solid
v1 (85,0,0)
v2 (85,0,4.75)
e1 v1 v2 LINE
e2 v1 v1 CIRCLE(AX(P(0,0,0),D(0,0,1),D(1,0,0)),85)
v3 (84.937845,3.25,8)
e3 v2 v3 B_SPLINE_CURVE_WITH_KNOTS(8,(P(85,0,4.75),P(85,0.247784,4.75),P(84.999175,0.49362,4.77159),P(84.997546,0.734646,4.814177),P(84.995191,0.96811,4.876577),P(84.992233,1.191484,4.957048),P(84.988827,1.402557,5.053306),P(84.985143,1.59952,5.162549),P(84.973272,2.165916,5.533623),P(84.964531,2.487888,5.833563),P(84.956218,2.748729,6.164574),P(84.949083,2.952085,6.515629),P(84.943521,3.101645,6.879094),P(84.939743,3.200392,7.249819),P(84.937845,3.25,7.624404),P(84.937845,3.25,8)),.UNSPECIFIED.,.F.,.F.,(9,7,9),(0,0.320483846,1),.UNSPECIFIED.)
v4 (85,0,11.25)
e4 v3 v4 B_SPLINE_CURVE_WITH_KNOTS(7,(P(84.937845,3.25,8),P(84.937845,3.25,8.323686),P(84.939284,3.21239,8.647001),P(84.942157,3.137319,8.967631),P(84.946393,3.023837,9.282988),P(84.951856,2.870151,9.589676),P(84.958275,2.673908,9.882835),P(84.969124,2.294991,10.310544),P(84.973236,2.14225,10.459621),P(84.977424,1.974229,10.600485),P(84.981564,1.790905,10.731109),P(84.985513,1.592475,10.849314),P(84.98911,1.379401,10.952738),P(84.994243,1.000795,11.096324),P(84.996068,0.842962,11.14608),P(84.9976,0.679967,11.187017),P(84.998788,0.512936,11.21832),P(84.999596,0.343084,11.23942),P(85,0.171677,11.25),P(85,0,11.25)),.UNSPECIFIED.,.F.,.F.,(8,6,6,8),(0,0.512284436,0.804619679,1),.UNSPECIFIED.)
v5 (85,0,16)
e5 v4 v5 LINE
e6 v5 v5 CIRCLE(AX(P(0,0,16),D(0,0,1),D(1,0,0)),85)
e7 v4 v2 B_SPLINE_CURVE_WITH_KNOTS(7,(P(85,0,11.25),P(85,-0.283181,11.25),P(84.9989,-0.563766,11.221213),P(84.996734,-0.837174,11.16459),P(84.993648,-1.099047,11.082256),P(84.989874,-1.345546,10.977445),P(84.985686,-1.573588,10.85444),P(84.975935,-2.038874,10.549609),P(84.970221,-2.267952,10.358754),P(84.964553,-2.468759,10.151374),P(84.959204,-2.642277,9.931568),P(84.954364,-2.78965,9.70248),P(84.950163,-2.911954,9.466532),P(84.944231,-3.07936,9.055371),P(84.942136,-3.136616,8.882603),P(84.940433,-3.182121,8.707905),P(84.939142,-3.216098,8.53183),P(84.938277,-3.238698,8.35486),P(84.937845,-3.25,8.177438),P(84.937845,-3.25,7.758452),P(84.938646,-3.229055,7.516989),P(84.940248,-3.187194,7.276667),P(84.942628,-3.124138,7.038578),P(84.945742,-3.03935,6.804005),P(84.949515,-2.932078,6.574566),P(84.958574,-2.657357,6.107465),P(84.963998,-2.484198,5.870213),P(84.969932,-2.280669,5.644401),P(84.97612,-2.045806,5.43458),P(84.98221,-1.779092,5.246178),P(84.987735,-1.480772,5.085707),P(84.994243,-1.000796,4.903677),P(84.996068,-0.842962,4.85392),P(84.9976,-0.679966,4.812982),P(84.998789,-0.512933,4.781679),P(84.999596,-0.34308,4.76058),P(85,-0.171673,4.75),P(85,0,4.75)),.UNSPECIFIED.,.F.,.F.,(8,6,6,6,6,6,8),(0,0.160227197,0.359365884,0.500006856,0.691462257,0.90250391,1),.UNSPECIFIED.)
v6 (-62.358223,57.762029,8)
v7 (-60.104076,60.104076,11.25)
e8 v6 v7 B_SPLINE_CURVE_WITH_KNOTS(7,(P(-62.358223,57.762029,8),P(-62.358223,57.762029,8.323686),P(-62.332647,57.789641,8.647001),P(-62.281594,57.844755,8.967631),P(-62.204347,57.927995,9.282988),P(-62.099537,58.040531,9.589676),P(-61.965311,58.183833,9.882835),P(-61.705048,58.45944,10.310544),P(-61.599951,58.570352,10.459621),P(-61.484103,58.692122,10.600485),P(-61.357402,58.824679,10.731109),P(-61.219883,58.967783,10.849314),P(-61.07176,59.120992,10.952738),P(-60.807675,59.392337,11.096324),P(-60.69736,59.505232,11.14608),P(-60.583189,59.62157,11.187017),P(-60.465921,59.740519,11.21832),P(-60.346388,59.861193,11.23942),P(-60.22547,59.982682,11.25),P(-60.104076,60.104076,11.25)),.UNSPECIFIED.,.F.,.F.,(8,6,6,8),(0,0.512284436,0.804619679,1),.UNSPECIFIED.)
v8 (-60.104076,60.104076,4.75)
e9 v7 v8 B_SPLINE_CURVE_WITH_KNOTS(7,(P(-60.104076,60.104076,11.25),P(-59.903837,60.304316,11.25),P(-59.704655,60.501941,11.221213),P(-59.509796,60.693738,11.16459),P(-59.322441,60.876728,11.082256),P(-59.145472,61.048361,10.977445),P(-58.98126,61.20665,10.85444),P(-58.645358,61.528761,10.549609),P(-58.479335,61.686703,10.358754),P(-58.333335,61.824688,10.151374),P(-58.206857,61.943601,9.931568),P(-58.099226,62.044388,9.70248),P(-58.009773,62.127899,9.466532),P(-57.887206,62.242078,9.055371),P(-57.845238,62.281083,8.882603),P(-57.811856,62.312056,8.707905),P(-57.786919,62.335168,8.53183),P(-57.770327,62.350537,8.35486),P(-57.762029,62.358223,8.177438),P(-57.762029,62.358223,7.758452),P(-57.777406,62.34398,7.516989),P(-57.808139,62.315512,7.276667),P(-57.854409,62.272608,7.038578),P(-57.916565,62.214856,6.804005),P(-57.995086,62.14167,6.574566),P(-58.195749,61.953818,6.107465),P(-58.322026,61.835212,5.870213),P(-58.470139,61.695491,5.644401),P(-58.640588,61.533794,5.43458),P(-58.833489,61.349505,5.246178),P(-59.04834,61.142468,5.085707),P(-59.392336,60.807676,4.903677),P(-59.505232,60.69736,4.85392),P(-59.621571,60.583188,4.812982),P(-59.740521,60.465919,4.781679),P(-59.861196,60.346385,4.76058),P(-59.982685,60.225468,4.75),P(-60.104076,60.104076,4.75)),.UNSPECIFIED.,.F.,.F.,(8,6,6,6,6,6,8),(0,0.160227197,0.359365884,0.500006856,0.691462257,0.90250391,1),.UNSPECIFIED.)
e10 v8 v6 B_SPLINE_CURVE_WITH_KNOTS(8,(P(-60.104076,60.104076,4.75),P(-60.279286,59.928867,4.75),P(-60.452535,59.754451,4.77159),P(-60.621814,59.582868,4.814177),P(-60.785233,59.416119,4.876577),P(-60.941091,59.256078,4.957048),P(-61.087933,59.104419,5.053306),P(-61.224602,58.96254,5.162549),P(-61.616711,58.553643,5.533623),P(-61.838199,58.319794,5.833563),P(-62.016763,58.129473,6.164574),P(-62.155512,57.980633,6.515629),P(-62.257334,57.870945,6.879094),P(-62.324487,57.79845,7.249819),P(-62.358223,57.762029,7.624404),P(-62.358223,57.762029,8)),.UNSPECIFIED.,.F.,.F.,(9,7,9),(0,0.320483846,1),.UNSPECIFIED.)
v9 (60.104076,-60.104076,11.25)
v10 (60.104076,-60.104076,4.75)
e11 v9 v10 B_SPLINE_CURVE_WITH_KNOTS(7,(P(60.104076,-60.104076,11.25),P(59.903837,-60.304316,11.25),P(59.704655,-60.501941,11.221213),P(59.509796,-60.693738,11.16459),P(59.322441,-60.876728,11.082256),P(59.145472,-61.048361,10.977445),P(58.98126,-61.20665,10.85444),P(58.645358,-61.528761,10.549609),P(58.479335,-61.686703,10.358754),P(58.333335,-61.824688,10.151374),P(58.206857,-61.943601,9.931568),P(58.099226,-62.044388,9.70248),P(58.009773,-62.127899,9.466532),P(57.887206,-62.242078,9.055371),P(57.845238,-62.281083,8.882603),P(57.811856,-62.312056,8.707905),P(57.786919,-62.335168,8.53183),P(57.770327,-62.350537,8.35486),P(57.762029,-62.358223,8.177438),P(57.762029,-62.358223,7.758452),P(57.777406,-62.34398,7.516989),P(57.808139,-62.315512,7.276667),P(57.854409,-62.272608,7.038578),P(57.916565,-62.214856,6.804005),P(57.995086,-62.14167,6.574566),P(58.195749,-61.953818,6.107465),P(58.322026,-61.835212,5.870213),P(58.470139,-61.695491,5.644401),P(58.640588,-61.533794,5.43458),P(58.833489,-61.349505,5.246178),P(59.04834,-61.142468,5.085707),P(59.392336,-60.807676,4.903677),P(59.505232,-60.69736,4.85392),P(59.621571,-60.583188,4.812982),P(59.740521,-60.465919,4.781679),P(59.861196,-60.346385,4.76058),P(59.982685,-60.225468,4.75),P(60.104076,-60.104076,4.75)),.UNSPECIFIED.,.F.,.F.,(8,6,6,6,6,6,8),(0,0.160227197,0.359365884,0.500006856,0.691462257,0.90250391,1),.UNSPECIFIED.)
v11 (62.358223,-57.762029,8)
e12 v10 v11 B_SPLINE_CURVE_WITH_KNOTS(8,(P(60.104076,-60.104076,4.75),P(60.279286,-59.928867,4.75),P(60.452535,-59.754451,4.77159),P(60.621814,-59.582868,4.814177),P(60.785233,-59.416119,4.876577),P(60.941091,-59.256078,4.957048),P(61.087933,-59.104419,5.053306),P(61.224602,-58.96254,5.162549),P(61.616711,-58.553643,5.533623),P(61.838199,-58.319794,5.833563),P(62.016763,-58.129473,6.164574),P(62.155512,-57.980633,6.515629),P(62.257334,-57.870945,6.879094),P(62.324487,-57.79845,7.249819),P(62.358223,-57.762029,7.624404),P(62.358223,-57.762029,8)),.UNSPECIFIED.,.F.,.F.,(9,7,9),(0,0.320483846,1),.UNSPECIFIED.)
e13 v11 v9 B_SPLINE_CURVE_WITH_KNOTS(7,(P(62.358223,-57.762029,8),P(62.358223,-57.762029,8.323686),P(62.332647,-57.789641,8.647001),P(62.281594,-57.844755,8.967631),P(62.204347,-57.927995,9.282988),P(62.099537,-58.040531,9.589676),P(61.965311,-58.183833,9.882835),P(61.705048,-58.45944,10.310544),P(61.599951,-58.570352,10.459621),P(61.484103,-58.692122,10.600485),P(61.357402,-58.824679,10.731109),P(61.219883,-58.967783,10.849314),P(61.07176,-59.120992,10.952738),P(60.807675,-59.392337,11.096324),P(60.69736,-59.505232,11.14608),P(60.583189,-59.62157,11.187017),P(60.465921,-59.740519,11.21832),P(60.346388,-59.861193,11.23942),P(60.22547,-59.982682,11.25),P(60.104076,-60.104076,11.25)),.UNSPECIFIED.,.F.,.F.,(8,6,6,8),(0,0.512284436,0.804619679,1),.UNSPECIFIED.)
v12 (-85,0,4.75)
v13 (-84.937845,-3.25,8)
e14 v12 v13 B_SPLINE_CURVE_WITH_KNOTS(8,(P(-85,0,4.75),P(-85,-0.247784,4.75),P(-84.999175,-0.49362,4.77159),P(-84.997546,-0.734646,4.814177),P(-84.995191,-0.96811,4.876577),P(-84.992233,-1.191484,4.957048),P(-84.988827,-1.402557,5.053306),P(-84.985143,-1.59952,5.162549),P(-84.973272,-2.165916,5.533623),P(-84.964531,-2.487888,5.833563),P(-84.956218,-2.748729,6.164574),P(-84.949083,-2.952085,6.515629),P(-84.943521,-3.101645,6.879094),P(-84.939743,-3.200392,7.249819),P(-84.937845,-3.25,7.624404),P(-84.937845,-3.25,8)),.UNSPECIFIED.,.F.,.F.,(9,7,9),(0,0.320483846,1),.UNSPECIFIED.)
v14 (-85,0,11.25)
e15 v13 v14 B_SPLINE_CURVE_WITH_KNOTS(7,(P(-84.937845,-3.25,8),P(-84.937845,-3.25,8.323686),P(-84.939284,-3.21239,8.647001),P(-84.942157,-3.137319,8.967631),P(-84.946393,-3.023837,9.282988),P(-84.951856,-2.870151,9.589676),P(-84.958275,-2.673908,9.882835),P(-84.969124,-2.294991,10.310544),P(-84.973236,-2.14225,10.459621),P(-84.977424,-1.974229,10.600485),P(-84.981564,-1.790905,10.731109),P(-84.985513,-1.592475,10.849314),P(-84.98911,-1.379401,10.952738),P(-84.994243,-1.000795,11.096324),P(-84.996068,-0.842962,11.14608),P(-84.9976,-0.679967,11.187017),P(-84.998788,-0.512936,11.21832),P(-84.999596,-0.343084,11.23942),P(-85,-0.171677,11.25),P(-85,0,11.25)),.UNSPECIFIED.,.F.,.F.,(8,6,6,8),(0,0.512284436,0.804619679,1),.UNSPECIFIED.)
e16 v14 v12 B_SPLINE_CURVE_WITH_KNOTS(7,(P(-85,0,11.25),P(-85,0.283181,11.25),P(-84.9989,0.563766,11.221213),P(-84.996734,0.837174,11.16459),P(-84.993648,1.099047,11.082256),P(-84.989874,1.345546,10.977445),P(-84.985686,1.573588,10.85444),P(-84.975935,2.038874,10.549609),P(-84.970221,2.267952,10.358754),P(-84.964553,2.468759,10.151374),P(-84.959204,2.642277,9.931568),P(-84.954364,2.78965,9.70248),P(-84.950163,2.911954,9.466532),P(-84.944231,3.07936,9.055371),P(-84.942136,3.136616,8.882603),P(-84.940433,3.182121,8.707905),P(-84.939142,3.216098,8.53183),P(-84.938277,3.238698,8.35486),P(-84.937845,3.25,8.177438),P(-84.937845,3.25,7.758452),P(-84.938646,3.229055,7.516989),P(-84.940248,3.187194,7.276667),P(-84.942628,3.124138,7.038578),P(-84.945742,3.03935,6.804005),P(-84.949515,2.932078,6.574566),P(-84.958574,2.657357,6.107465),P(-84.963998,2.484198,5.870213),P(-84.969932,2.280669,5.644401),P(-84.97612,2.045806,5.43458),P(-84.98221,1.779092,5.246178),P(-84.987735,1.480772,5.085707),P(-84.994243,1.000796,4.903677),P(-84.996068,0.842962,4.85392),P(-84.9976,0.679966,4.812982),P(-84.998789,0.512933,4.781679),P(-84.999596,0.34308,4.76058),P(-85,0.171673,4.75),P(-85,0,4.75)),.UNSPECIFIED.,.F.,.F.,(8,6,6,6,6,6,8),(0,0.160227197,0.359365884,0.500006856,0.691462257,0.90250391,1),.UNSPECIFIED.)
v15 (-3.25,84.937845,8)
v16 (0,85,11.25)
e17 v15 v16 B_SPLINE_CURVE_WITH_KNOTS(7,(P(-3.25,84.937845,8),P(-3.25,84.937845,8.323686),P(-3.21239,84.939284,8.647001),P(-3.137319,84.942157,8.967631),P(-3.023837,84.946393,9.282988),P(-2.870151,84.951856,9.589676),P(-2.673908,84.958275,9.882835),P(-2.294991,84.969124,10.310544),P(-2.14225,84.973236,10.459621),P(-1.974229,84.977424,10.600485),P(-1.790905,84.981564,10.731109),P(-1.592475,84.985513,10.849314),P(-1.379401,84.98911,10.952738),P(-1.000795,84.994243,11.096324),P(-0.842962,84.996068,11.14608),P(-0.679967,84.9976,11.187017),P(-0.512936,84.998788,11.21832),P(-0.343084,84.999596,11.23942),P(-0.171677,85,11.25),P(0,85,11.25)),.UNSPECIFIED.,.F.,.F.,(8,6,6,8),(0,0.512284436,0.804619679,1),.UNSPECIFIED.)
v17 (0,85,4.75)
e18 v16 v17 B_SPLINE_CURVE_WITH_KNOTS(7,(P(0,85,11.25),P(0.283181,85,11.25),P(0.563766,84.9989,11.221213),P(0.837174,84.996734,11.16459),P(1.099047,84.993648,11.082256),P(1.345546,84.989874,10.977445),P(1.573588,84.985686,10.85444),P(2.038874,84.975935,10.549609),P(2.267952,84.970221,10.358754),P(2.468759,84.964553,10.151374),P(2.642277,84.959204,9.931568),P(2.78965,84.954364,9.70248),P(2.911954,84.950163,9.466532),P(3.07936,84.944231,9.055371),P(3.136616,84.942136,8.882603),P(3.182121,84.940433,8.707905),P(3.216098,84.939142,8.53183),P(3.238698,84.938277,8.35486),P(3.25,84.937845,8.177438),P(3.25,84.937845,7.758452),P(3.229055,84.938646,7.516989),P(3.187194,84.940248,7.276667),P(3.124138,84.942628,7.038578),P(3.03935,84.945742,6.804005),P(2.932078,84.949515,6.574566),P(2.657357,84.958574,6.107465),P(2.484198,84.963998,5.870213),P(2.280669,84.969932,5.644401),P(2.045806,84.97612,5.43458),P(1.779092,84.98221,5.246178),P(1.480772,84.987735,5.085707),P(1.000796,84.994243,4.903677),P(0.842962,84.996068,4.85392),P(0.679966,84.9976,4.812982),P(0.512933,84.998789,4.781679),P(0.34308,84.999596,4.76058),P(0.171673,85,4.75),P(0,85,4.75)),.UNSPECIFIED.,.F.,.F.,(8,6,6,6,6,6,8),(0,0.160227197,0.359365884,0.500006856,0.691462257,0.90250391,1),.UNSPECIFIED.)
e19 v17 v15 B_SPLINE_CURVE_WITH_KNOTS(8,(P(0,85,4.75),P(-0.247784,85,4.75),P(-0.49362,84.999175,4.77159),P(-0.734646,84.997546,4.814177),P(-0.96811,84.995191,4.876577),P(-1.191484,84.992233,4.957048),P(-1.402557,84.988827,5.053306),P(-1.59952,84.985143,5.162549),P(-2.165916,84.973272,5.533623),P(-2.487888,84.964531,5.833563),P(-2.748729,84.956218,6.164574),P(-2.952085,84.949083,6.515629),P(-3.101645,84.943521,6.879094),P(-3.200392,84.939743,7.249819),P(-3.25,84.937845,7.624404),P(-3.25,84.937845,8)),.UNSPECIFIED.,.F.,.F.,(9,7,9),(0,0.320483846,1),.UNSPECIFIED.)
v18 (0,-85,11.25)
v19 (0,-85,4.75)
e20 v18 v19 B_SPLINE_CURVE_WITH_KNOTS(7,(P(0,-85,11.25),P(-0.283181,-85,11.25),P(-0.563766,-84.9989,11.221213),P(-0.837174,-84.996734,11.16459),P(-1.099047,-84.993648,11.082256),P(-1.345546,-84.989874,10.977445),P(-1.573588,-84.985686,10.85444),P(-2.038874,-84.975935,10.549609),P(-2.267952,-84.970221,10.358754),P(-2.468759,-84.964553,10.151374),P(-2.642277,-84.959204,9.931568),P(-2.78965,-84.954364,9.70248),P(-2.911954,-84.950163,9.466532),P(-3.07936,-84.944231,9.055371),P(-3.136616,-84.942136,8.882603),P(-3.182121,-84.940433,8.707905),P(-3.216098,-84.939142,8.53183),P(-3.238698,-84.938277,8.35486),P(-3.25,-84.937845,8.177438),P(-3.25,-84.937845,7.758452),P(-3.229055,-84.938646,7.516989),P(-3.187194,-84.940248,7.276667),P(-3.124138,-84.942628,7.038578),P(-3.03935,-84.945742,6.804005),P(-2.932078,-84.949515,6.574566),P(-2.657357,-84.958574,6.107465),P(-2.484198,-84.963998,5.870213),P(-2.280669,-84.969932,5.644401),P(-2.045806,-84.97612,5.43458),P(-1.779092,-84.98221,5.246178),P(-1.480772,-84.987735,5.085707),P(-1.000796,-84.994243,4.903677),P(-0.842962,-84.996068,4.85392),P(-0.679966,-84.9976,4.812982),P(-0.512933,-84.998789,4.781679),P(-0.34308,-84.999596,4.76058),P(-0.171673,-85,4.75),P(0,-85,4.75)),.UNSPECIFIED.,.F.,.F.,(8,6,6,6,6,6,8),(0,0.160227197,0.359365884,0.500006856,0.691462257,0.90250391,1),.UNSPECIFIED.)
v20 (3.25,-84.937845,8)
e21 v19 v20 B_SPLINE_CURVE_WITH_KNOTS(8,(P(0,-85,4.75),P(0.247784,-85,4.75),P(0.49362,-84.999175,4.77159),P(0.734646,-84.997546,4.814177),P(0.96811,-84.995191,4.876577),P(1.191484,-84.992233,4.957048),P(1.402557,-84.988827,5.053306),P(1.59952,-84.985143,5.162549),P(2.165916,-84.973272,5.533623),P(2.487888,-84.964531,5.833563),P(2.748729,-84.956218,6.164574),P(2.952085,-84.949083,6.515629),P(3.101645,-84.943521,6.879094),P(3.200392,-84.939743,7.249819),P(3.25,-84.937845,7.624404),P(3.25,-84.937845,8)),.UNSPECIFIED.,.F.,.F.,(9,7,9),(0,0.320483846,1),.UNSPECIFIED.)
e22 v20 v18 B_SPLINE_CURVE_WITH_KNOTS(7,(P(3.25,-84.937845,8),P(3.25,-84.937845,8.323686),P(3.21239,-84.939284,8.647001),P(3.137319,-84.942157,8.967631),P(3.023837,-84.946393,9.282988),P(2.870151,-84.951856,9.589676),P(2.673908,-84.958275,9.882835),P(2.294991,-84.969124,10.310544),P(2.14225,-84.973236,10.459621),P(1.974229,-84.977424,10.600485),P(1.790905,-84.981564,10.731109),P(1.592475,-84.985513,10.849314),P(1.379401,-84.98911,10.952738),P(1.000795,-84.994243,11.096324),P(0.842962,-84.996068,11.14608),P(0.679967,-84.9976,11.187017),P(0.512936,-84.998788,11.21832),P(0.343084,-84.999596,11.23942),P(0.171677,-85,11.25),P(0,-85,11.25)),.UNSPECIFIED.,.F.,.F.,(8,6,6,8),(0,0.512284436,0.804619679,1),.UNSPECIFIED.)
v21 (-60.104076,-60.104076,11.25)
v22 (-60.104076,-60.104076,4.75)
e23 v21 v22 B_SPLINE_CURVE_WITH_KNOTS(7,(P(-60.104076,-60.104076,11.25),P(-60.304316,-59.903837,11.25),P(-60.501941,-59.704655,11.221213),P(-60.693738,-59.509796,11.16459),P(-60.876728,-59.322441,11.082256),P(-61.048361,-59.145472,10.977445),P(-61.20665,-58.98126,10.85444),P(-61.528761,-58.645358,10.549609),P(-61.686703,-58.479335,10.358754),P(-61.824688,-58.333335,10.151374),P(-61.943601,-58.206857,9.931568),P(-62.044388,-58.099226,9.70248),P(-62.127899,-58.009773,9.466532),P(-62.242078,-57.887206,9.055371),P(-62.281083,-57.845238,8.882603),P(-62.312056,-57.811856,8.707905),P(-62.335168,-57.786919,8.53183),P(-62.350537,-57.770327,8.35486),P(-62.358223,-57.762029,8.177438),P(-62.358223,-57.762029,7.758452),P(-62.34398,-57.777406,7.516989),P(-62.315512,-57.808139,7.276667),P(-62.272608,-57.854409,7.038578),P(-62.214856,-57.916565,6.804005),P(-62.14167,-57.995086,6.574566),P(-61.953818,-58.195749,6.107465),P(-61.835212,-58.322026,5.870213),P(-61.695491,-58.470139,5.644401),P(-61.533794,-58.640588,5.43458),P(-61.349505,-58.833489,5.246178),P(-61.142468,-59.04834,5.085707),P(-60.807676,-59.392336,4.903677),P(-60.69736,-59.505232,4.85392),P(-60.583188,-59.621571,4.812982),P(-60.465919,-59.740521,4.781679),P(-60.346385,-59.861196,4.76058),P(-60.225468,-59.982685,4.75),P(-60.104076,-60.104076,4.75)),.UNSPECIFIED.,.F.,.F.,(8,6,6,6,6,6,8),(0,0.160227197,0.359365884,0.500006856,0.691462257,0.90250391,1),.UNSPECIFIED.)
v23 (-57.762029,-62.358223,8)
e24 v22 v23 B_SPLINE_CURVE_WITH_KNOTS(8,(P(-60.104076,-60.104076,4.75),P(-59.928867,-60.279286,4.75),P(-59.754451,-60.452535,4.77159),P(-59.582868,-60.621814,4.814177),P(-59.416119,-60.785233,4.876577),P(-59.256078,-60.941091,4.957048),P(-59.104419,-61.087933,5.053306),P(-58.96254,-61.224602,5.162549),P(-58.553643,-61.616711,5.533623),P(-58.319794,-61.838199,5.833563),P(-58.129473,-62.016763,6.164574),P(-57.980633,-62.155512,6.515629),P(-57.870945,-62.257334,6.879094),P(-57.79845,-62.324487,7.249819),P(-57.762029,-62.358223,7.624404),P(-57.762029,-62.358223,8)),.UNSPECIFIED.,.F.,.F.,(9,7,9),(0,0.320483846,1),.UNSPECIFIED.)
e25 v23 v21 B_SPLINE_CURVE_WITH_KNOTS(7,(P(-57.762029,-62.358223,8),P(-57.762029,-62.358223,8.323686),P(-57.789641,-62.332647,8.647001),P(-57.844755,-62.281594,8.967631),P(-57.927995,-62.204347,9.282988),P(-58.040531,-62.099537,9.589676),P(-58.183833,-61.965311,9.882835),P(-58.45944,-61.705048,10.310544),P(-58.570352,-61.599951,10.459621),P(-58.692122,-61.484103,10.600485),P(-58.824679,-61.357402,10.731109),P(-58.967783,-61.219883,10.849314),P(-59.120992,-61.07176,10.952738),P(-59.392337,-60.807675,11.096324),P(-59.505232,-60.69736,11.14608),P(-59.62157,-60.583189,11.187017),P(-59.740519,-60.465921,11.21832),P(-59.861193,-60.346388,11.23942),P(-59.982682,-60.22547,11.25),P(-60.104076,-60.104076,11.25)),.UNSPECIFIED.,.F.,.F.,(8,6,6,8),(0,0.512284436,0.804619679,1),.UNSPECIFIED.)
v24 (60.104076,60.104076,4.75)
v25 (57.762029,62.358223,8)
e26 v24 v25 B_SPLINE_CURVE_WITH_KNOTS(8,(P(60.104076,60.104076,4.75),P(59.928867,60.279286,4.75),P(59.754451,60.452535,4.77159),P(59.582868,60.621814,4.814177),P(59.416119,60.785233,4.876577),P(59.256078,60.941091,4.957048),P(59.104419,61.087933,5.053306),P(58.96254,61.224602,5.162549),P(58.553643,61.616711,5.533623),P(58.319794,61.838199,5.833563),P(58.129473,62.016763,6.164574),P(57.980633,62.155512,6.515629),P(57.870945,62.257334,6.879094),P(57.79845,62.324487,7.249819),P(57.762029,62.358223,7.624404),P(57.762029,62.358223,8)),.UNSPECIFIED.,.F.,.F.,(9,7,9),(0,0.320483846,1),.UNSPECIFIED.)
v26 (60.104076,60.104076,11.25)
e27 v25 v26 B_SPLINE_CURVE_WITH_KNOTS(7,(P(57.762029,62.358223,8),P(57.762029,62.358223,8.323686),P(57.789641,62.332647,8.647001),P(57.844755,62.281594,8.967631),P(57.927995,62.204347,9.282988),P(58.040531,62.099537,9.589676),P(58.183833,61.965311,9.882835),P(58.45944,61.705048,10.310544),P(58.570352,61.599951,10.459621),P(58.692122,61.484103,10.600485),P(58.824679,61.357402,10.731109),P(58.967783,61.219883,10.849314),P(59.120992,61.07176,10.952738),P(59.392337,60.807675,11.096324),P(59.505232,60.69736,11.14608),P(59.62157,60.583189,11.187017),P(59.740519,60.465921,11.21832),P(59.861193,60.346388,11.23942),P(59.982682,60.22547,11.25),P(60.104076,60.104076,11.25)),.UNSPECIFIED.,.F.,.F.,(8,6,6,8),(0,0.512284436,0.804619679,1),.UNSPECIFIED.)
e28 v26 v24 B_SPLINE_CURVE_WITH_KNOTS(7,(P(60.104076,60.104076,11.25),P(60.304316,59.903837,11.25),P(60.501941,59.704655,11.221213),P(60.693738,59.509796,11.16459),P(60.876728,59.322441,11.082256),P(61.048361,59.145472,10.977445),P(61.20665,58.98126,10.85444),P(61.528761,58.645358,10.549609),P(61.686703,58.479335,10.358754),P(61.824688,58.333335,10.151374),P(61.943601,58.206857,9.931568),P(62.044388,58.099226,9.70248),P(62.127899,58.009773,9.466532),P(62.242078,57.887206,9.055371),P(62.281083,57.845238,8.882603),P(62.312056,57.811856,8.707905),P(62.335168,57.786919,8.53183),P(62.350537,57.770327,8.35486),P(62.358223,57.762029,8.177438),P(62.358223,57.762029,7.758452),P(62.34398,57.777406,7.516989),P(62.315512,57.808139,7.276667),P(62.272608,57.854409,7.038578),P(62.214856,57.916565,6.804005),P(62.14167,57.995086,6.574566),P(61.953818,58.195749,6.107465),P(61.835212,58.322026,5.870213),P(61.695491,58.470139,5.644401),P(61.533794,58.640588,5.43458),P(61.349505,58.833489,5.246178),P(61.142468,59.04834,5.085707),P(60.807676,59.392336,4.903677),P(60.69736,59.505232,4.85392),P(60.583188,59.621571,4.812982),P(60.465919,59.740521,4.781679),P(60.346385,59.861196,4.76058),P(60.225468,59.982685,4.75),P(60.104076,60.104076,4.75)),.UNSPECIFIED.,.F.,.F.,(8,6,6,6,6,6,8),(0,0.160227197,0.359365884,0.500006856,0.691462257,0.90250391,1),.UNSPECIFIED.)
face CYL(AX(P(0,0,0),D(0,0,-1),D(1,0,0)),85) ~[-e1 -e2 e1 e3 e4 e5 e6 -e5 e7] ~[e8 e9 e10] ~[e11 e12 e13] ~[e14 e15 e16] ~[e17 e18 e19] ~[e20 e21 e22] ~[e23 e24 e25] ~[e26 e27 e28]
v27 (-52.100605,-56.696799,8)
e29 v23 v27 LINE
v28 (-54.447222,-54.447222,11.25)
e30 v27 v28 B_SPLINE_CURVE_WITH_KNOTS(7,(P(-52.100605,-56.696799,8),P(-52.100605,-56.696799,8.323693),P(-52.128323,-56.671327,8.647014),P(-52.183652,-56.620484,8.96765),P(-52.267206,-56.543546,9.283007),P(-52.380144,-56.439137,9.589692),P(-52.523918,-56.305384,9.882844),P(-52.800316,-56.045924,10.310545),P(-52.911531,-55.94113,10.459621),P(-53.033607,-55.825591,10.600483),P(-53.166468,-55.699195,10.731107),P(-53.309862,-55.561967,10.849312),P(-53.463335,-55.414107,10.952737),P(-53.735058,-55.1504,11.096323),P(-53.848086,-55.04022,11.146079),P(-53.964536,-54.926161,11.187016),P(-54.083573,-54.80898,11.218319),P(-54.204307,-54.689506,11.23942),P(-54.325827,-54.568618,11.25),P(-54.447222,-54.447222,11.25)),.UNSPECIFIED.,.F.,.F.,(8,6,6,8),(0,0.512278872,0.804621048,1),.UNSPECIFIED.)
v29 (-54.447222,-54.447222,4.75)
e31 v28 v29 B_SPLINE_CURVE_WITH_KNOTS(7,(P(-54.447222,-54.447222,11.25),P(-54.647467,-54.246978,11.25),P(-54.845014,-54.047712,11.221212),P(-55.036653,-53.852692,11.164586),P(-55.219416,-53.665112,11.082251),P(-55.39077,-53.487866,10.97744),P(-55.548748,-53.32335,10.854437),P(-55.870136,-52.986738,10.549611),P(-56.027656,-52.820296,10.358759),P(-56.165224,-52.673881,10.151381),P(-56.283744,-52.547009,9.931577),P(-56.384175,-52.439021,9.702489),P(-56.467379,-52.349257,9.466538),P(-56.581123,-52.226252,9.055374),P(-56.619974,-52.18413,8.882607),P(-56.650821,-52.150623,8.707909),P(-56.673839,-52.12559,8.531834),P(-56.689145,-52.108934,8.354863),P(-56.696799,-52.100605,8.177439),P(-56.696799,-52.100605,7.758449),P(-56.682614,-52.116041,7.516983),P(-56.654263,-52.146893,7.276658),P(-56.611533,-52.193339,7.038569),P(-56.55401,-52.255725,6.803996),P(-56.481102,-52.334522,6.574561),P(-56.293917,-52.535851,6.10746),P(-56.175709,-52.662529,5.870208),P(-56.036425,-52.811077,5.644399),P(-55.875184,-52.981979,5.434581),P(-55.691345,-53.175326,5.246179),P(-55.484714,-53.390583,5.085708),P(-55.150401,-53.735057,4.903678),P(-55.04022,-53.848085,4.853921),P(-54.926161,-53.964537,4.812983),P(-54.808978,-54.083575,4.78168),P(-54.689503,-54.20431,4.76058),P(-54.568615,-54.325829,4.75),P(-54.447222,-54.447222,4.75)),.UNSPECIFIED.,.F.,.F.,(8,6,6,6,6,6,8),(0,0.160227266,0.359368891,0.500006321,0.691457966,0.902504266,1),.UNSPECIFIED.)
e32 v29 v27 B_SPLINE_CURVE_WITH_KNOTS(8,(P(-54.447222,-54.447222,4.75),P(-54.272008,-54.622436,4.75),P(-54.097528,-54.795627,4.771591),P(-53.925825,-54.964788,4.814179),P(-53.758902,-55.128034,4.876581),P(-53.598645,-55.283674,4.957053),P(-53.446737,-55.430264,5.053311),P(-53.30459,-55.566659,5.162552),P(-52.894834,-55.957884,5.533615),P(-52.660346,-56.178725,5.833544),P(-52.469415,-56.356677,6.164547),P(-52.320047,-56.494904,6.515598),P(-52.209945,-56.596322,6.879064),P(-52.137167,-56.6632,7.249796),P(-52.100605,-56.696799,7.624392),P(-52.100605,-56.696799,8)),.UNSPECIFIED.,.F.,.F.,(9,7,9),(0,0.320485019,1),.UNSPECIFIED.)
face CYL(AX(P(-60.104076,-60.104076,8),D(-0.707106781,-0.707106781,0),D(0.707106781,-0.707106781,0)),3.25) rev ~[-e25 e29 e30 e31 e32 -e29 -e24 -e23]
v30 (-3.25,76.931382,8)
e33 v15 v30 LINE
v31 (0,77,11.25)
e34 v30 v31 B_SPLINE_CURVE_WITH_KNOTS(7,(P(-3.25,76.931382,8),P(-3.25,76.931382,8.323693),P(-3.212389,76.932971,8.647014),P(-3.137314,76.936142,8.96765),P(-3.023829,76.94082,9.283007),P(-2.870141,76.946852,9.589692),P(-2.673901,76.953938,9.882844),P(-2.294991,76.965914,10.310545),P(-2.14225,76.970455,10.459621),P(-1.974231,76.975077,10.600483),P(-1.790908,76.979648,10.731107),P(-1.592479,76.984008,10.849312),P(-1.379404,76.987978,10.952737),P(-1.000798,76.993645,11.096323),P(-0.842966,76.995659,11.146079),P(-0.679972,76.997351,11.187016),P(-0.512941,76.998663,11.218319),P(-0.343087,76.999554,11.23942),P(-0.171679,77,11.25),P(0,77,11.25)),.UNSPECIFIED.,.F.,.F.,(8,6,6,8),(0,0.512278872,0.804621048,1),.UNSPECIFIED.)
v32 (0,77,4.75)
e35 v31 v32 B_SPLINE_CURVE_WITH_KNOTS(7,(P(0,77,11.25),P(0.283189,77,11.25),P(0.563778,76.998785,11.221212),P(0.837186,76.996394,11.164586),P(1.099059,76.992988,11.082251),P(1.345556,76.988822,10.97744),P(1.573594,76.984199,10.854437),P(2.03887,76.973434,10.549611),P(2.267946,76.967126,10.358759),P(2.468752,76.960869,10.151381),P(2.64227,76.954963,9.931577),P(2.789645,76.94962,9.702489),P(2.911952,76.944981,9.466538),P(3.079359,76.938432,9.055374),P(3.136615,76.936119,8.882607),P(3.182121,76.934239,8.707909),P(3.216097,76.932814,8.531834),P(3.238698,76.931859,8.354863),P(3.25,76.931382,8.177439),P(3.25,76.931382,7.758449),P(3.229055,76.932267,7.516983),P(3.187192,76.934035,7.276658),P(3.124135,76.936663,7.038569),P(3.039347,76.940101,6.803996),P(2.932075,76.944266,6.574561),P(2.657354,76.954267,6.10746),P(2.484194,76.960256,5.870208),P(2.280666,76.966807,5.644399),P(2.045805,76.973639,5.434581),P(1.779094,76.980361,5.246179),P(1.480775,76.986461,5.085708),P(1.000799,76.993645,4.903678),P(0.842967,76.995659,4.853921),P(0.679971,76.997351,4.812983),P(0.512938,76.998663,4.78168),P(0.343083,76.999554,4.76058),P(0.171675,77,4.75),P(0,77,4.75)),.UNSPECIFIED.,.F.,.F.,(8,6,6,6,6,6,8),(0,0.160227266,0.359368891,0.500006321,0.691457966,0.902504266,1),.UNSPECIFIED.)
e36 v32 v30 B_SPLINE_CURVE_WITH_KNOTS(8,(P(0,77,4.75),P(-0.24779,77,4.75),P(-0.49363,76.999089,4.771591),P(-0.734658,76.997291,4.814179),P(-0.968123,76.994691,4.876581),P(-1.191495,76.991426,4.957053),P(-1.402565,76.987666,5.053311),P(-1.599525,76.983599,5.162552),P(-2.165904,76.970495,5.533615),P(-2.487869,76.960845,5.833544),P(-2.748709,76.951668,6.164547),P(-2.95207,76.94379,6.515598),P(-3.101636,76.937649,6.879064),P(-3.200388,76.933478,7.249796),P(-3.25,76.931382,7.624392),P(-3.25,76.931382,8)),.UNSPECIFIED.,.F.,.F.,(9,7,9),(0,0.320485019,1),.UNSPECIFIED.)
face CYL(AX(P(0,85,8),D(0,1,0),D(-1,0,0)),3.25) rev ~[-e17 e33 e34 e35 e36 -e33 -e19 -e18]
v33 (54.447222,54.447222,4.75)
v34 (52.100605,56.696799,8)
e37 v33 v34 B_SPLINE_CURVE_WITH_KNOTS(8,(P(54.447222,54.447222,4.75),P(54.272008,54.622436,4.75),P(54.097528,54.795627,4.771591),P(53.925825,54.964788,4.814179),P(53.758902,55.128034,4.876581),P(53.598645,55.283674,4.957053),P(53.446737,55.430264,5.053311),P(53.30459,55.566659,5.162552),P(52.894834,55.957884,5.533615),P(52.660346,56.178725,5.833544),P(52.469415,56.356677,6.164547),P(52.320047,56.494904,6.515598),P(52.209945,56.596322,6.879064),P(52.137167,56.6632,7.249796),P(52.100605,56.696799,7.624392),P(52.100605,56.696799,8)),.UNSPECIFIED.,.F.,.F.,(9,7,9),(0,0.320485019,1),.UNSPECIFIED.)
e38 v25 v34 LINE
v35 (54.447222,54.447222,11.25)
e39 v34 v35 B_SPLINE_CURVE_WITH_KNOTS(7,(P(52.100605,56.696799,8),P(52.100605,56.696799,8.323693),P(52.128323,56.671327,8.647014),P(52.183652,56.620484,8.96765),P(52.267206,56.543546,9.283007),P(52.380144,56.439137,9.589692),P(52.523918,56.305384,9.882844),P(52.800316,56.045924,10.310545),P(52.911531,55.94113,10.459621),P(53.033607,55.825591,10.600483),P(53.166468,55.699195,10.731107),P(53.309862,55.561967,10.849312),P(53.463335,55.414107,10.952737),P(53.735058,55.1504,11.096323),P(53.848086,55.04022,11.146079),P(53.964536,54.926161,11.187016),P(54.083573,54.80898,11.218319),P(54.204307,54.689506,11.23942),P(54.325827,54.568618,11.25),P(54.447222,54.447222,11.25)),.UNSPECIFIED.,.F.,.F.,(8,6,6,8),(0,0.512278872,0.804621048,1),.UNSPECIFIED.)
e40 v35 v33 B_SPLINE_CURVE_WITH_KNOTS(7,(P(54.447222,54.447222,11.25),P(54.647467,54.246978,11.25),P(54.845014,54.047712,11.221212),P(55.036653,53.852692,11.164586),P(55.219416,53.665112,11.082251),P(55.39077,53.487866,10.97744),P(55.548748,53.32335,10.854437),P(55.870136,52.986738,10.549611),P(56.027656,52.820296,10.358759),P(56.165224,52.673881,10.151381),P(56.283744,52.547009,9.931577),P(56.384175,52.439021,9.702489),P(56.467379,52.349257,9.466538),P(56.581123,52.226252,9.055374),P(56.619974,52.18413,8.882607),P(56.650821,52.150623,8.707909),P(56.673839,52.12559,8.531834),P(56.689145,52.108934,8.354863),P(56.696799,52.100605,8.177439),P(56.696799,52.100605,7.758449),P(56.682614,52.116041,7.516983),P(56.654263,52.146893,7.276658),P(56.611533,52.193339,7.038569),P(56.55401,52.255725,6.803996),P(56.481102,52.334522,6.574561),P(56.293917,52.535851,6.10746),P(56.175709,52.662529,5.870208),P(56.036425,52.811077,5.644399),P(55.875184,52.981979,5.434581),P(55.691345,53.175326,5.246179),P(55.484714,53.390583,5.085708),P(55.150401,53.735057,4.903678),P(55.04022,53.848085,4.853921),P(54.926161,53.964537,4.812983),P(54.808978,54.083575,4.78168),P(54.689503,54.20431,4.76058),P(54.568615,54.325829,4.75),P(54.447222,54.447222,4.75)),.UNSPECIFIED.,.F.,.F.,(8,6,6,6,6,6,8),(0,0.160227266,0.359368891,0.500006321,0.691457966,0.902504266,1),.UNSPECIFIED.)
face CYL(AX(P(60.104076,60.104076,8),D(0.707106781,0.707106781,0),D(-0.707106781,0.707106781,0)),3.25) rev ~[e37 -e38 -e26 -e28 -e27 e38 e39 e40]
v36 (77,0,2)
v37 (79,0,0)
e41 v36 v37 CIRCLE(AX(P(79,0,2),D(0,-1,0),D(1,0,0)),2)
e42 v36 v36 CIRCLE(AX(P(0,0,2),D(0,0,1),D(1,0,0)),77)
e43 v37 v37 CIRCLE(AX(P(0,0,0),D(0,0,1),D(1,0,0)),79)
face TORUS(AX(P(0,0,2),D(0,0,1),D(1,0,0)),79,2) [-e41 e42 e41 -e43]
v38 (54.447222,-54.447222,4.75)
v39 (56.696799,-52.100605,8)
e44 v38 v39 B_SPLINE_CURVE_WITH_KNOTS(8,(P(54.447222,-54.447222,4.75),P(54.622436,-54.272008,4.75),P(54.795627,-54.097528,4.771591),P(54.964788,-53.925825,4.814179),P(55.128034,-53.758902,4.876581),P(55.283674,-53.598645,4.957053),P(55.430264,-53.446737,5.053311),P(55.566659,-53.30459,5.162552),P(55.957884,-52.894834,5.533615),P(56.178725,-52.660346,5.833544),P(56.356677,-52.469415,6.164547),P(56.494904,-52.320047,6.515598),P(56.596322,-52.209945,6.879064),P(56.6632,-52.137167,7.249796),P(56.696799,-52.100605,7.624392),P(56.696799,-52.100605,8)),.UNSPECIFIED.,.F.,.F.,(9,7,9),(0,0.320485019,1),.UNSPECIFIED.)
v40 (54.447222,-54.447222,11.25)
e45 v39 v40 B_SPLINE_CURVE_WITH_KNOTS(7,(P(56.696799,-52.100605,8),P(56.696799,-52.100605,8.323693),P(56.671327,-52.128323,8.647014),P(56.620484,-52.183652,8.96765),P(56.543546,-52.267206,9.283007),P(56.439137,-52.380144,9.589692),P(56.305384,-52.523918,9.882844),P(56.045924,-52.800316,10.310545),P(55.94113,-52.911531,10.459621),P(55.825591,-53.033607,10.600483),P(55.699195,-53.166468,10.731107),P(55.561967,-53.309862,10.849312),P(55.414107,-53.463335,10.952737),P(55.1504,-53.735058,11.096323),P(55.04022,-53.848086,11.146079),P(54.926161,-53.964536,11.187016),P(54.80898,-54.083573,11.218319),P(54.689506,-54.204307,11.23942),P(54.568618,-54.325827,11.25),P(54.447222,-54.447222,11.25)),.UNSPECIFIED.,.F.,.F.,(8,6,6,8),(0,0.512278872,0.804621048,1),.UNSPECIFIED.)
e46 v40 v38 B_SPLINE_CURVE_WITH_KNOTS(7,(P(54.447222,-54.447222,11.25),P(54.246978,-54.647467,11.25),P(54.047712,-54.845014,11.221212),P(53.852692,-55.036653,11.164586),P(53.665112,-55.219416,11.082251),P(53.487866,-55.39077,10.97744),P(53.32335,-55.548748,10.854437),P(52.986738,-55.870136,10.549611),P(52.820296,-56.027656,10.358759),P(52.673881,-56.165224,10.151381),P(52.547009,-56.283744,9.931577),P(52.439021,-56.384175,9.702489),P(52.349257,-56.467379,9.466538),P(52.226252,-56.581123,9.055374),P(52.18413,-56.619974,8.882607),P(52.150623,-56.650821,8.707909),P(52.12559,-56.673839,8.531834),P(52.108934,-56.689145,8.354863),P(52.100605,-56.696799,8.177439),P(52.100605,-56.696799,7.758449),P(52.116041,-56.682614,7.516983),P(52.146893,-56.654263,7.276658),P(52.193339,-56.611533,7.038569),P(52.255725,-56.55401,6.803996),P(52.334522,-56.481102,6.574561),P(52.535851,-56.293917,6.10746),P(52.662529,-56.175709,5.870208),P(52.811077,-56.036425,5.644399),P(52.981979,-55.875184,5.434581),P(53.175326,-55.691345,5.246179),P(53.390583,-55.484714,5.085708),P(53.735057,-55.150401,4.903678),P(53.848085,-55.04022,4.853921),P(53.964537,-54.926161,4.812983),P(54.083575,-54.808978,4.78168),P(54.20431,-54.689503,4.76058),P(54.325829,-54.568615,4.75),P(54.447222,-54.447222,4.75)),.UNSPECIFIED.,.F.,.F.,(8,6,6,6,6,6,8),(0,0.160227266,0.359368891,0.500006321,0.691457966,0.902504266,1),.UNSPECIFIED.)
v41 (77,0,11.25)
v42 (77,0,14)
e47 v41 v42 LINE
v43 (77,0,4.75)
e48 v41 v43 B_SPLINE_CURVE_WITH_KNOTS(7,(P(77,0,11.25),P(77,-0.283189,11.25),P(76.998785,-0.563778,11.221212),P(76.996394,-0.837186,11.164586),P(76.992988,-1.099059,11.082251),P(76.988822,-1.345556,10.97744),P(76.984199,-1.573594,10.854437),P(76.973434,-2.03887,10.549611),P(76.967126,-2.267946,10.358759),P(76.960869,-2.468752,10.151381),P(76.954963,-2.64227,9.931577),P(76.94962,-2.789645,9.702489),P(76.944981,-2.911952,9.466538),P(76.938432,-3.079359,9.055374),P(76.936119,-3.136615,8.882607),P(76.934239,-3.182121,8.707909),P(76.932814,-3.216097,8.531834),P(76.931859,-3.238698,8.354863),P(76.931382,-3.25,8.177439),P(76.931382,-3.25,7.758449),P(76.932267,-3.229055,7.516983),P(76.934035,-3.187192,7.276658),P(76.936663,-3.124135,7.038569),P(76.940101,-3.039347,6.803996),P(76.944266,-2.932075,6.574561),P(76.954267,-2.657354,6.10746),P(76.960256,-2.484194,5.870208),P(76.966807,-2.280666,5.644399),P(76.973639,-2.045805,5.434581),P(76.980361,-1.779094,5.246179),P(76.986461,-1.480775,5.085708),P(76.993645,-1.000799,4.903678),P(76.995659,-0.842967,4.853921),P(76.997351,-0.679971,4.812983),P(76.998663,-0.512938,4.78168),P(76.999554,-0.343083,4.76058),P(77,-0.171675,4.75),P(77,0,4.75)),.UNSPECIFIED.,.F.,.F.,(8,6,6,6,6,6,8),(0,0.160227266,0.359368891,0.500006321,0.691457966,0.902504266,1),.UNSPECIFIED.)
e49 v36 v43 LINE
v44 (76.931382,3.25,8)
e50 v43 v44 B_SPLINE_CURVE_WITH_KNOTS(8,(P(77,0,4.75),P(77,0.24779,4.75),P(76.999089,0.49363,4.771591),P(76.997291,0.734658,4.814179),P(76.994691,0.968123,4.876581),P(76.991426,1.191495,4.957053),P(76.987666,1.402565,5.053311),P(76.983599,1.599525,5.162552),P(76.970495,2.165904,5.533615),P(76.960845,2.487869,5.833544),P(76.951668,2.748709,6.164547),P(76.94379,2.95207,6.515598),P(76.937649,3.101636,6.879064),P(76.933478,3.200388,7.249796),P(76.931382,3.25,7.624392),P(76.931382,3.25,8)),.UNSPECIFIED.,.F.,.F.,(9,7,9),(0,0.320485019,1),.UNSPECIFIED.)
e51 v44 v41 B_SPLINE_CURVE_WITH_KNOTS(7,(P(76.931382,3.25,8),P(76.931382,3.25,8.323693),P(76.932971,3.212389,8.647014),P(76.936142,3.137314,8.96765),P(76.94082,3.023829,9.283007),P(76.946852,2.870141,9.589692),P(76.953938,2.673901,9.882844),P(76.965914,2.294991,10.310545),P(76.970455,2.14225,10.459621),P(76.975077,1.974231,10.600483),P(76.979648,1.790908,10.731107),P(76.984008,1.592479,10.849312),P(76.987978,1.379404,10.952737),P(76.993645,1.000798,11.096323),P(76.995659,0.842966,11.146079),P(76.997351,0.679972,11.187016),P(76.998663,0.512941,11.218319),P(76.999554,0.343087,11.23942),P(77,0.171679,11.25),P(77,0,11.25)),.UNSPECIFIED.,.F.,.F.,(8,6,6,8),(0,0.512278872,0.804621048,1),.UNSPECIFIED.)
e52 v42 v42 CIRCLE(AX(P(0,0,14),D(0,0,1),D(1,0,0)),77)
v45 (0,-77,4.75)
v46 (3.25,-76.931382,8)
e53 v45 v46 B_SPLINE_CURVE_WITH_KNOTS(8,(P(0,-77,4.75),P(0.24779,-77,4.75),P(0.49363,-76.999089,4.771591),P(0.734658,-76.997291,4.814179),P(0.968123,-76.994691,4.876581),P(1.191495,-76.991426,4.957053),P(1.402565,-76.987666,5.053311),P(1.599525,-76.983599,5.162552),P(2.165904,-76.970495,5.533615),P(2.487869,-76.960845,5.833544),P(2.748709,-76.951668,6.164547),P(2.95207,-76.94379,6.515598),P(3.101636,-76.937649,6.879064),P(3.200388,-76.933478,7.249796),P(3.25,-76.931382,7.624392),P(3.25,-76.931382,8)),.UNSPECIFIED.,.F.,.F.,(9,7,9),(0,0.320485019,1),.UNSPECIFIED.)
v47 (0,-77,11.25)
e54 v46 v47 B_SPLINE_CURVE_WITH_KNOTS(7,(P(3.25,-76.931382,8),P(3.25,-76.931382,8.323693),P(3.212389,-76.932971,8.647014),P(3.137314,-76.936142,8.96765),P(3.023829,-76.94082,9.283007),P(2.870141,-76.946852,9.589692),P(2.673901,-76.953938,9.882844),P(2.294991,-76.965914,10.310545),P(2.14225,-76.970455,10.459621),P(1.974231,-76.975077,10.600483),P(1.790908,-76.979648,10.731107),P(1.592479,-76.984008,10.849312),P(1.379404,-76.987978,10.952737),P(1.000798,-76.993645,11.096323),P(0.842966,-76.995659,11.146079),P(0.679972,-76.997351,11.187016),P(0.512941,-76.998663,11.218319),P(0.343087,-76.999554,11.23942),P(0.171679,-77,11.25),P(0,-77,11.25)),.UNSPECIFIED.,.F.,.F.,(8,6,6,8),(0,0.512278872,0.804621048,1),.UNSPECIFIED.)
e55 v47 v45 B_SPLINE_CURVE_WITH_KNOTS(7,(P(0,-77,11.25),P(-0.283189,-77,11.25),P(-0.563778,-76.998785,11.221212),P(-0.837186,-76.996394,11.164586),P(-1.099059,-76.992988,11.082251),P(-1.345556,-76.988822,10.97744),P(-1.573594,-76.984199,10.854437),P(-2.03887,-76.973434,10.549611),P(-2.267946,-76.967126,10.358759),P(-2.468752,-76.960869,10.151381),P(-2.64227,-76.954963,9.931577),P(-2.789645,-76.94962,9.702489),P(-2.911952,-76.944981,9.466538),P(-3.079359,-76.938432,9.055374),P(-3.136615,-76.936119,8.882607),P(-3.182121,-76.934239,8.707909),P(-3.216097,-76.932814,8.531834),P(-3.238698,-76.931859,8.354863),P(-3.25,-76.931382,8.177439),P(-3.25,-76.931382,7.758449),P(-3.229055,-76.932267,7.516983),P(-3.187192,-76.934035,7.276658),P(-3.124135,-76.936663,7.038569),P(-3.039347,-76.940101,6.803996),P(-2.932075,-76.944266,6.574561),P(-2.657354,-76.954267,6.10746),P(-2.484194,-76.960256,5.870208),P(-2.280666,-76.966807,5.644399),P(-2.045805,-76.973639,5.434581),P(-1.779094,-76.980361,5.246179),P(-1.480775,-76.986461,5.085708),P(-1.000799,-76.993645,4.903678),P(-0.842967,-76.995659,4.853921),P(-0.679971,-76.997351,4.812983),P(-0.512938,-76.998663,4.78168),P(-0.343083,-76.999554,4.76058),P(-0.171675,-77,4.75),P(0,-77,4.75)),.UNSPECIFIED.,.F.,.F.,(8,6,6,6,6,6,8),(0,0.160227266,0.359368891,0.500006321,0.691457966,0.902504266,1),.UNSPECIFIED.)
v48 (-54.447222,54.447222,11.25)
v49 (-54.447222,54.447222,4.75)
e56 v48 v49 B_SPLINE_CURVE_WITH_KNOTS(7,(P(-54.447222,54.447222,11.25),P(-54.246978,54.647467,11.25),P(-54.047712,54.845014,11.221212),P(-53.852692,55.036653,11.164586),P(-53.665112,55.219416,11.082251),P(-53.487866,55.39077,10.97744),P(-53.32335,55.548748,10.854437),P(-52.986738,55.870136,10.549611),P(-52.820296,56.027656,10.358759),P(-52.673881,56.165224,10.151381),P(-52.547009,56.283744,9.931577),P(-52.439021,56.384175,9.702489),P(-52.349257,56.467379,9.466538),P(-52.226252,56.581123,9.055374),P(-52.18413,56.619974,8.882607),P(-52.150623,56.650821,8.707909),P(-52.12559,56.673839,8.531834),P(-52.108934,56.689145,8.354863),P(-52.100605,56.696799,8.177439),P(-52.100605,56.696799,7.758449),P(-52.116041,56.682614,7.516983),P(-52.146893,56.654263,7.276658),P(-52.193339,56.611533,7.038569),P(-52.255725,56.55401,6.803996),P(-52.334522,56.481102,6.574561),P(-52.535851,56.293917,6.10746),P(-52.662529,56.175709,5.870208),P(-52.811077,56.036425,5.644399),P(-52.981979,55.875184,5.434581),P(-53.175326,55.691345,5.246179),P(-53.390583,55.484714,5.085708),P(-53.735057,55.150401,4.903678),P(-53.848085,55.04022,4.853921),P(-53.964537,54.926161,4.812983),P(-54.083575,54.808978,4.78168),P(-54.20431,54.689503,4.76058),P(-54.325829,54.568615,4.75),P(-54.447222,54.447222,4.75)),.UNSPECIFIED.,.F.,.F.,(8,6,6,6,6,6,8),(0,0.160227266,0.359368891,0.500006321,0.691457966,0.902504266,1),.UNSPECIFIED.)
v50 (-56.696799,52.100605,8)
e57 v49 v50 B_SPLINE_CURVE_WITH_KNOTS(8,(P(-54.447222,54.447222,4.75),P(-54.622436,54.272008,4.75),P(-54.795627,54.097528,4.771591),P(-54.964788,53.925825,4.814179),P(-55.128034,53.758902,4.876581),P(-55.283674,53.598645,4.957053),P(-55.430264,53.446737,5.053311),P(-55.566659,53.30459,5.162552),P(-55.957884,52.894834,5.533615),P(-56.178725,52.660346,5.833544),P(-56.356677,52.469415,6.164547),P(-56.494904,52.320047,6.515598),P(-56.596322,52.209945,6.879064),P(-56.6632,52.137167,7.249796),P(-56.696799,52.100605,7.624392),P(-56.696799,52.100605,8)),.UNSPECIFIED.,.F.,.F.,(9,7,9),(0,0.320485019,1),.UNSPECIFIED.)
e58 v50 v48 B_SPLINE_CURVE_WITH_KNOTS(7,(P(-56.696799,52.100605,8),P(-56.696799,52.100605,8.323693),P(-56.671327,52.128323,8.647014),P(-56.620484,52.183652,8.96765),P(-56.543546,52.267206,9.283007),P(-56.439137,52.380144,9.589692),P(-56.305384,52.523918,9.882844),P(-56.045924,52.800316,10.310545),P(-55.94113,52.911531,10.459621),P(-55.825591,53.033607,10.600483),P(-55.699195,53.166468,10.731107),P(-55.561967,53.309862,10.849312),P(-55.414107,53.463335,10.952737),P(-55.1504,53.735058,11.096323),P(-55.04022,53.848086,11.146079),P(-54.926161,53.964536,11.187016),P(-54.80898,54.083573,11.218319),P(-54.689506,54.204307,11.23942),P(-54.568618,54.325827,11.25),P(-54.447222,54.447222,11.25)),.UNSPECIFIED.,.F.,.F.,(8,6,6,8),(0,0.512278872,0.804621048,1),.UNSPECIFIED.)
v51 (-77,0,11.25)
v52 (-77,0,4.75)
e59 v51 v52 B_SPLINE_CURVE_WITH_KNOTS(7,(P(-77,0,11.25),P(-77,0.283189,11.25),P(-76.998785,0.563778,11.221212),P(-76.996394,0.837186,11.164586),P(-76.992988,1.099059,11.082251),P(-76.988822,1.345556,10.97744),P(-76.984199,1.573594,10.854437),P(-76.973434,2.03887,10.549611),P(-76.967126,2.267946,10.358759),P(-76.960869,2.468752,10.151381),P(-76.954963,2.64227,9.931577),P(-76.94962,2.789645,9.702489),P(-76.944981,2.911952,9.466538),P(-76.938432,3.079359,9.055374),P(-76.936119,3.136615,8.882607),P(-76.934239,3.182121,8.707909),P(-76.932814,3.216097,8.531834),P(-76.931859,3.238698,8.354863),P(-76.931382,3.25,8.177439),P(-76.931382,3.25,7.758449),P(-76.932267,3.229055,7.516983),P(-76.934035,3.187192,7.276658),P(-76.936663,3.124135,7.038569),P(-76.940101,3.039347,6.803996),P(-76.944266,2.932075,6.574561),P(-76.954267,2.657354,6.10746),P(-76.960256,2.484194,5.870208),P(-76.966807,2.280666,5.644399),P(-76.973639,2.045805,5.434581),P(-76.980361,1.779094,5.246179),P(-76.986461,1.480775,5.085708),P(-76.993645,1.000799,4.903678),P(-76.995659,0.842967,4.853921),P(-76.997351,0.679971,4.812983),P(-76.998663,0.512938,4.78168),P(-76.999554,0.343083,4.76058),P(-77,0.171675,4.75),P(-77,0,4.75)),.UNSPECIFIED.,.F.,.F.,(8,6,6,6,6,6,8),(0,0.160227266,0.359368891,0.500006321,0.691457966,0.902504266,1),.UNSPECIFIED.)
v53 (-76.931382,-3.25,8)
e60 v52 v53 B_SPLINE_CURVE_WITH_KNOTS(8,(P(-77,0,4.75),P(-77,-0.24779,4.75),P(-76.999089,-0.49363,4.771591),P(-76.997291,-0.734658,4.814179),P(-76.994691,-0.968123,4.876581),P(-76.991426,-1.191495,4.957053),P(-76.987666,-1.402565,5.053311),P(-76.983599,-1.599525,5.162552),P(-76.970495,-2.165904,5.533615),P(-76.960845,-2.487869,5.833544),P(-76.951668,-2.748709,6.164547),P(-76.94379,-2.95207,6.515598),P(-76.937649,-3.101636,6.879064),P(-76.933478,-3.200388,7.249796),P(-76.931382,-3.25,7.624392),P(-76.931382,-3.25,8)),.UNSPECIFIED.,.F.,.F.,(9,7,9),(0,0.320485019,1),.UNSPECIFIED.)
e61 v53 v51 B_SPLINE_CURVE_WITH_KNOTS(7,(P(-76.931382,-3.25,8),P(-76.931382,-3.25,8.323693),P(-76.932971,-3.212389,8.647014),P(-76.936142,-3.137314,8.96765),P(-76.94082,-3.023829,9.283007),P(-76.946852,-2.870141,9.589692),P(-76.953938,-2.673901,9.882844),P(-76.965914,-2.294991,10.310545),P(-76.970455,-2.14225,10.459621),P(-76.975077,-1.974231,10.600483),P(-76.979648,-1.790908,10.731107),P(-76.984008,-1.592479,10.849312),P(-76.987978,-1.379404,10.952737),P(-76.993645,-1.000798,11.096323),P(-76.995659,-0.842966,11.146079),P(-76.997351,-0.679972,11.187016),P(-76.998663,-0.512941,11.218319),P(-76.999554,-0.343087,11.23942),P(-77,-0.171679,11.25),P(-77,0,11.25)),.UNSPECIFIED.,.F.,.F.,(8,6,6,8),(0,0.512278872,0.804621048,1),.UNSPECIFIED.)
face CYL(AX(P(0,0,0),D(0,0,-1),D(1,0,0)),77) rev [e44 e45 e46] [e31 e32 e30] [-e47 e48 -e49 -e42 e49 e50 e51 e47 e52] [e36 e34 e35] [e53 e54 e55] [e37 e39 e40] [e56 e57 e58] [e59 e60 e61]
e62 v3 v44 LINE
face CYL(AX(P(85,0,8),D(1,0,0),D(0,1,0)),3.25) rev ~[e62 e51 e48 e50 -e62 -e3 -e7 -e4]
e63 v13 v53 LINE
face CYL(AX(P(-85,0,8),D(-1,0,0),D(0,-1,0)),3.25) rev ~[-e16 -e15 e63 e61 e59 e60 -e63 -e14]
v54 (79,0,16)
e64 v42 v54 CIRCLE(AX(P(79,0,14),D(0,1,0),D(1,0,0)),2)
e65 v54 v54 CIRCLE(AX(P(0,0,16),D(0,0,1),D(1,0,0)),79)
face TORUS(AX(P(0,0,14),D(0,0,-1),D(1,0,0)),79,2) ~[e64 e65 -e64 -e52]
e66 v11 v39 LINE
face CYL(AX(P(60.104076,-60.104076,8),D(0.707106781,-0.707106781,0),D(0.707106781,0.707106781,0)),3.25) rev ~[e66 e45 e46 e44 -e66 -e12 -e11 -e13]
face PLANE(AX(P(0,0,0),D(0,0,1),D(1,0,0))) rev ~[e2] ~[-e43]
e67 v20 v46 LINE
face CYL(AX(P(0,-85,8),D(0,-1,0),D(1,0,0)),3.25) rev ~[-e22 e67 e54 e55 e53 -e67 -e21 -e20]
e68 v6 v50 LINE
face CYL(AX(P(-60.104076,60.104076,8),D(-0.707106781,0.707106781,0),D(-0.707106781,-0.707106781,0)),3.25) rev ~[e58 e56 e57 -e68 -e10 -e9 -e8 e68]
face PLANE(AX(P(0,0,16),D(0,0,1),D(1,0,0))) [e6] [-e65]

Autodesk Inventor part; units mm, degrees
ref_plane "XZ Plane" through (0, 0, 0) normal (0, 1, 0) x (-1, 0, 0)
ref_plane "XY Plane" through (0, 0, 0) normal (0, 0, 1) x (1, 0, 0)
sketch "Sketch1" plane through (0, 0, 0) normal (0, 0, 1) x (1, 0, 0)
  circle A0 centre (0, 0) radius 85
  circle A1 centre (0, 0) radius 77
  dimension "d0" = 170
  dimension "d1" = 154
extrude "Extrusion1" add sketch "Sketch1" along normal blind 16
fillet "Fillet1" radius 2 2 edges at (-77, 0, 16) (-77, 0, 0)
sketch "Sketch2" plane through (0, 0, 0) normal (1, 0, 0) x (0, 1, 0)
  point P0 (0, 0)
ref_plane "Work Plane1" through (85, 0, 0) normal (1, 0, 0) x (0, 1, 0)
sketch "Sketch3" plane through (85, 0, 0) normal (1, 0, 0) x (0, 1, 0)
  circle A0 centre (0, 8) radius 3.25
  point P0 (0, 0)
  dimension "d6" = 6.5
  dimension "d7" = 8
extrude "Extrusion2" cut sketch "Sketch3" against normal up to surface
pattern_circular "Circular Pattern1" count 8 over 360 about axis through (0, 0, 14) along (0, 0, -1) of "Extrusion2"
properties part number "Flywheel inner ring" material "Steel, Carbon"
